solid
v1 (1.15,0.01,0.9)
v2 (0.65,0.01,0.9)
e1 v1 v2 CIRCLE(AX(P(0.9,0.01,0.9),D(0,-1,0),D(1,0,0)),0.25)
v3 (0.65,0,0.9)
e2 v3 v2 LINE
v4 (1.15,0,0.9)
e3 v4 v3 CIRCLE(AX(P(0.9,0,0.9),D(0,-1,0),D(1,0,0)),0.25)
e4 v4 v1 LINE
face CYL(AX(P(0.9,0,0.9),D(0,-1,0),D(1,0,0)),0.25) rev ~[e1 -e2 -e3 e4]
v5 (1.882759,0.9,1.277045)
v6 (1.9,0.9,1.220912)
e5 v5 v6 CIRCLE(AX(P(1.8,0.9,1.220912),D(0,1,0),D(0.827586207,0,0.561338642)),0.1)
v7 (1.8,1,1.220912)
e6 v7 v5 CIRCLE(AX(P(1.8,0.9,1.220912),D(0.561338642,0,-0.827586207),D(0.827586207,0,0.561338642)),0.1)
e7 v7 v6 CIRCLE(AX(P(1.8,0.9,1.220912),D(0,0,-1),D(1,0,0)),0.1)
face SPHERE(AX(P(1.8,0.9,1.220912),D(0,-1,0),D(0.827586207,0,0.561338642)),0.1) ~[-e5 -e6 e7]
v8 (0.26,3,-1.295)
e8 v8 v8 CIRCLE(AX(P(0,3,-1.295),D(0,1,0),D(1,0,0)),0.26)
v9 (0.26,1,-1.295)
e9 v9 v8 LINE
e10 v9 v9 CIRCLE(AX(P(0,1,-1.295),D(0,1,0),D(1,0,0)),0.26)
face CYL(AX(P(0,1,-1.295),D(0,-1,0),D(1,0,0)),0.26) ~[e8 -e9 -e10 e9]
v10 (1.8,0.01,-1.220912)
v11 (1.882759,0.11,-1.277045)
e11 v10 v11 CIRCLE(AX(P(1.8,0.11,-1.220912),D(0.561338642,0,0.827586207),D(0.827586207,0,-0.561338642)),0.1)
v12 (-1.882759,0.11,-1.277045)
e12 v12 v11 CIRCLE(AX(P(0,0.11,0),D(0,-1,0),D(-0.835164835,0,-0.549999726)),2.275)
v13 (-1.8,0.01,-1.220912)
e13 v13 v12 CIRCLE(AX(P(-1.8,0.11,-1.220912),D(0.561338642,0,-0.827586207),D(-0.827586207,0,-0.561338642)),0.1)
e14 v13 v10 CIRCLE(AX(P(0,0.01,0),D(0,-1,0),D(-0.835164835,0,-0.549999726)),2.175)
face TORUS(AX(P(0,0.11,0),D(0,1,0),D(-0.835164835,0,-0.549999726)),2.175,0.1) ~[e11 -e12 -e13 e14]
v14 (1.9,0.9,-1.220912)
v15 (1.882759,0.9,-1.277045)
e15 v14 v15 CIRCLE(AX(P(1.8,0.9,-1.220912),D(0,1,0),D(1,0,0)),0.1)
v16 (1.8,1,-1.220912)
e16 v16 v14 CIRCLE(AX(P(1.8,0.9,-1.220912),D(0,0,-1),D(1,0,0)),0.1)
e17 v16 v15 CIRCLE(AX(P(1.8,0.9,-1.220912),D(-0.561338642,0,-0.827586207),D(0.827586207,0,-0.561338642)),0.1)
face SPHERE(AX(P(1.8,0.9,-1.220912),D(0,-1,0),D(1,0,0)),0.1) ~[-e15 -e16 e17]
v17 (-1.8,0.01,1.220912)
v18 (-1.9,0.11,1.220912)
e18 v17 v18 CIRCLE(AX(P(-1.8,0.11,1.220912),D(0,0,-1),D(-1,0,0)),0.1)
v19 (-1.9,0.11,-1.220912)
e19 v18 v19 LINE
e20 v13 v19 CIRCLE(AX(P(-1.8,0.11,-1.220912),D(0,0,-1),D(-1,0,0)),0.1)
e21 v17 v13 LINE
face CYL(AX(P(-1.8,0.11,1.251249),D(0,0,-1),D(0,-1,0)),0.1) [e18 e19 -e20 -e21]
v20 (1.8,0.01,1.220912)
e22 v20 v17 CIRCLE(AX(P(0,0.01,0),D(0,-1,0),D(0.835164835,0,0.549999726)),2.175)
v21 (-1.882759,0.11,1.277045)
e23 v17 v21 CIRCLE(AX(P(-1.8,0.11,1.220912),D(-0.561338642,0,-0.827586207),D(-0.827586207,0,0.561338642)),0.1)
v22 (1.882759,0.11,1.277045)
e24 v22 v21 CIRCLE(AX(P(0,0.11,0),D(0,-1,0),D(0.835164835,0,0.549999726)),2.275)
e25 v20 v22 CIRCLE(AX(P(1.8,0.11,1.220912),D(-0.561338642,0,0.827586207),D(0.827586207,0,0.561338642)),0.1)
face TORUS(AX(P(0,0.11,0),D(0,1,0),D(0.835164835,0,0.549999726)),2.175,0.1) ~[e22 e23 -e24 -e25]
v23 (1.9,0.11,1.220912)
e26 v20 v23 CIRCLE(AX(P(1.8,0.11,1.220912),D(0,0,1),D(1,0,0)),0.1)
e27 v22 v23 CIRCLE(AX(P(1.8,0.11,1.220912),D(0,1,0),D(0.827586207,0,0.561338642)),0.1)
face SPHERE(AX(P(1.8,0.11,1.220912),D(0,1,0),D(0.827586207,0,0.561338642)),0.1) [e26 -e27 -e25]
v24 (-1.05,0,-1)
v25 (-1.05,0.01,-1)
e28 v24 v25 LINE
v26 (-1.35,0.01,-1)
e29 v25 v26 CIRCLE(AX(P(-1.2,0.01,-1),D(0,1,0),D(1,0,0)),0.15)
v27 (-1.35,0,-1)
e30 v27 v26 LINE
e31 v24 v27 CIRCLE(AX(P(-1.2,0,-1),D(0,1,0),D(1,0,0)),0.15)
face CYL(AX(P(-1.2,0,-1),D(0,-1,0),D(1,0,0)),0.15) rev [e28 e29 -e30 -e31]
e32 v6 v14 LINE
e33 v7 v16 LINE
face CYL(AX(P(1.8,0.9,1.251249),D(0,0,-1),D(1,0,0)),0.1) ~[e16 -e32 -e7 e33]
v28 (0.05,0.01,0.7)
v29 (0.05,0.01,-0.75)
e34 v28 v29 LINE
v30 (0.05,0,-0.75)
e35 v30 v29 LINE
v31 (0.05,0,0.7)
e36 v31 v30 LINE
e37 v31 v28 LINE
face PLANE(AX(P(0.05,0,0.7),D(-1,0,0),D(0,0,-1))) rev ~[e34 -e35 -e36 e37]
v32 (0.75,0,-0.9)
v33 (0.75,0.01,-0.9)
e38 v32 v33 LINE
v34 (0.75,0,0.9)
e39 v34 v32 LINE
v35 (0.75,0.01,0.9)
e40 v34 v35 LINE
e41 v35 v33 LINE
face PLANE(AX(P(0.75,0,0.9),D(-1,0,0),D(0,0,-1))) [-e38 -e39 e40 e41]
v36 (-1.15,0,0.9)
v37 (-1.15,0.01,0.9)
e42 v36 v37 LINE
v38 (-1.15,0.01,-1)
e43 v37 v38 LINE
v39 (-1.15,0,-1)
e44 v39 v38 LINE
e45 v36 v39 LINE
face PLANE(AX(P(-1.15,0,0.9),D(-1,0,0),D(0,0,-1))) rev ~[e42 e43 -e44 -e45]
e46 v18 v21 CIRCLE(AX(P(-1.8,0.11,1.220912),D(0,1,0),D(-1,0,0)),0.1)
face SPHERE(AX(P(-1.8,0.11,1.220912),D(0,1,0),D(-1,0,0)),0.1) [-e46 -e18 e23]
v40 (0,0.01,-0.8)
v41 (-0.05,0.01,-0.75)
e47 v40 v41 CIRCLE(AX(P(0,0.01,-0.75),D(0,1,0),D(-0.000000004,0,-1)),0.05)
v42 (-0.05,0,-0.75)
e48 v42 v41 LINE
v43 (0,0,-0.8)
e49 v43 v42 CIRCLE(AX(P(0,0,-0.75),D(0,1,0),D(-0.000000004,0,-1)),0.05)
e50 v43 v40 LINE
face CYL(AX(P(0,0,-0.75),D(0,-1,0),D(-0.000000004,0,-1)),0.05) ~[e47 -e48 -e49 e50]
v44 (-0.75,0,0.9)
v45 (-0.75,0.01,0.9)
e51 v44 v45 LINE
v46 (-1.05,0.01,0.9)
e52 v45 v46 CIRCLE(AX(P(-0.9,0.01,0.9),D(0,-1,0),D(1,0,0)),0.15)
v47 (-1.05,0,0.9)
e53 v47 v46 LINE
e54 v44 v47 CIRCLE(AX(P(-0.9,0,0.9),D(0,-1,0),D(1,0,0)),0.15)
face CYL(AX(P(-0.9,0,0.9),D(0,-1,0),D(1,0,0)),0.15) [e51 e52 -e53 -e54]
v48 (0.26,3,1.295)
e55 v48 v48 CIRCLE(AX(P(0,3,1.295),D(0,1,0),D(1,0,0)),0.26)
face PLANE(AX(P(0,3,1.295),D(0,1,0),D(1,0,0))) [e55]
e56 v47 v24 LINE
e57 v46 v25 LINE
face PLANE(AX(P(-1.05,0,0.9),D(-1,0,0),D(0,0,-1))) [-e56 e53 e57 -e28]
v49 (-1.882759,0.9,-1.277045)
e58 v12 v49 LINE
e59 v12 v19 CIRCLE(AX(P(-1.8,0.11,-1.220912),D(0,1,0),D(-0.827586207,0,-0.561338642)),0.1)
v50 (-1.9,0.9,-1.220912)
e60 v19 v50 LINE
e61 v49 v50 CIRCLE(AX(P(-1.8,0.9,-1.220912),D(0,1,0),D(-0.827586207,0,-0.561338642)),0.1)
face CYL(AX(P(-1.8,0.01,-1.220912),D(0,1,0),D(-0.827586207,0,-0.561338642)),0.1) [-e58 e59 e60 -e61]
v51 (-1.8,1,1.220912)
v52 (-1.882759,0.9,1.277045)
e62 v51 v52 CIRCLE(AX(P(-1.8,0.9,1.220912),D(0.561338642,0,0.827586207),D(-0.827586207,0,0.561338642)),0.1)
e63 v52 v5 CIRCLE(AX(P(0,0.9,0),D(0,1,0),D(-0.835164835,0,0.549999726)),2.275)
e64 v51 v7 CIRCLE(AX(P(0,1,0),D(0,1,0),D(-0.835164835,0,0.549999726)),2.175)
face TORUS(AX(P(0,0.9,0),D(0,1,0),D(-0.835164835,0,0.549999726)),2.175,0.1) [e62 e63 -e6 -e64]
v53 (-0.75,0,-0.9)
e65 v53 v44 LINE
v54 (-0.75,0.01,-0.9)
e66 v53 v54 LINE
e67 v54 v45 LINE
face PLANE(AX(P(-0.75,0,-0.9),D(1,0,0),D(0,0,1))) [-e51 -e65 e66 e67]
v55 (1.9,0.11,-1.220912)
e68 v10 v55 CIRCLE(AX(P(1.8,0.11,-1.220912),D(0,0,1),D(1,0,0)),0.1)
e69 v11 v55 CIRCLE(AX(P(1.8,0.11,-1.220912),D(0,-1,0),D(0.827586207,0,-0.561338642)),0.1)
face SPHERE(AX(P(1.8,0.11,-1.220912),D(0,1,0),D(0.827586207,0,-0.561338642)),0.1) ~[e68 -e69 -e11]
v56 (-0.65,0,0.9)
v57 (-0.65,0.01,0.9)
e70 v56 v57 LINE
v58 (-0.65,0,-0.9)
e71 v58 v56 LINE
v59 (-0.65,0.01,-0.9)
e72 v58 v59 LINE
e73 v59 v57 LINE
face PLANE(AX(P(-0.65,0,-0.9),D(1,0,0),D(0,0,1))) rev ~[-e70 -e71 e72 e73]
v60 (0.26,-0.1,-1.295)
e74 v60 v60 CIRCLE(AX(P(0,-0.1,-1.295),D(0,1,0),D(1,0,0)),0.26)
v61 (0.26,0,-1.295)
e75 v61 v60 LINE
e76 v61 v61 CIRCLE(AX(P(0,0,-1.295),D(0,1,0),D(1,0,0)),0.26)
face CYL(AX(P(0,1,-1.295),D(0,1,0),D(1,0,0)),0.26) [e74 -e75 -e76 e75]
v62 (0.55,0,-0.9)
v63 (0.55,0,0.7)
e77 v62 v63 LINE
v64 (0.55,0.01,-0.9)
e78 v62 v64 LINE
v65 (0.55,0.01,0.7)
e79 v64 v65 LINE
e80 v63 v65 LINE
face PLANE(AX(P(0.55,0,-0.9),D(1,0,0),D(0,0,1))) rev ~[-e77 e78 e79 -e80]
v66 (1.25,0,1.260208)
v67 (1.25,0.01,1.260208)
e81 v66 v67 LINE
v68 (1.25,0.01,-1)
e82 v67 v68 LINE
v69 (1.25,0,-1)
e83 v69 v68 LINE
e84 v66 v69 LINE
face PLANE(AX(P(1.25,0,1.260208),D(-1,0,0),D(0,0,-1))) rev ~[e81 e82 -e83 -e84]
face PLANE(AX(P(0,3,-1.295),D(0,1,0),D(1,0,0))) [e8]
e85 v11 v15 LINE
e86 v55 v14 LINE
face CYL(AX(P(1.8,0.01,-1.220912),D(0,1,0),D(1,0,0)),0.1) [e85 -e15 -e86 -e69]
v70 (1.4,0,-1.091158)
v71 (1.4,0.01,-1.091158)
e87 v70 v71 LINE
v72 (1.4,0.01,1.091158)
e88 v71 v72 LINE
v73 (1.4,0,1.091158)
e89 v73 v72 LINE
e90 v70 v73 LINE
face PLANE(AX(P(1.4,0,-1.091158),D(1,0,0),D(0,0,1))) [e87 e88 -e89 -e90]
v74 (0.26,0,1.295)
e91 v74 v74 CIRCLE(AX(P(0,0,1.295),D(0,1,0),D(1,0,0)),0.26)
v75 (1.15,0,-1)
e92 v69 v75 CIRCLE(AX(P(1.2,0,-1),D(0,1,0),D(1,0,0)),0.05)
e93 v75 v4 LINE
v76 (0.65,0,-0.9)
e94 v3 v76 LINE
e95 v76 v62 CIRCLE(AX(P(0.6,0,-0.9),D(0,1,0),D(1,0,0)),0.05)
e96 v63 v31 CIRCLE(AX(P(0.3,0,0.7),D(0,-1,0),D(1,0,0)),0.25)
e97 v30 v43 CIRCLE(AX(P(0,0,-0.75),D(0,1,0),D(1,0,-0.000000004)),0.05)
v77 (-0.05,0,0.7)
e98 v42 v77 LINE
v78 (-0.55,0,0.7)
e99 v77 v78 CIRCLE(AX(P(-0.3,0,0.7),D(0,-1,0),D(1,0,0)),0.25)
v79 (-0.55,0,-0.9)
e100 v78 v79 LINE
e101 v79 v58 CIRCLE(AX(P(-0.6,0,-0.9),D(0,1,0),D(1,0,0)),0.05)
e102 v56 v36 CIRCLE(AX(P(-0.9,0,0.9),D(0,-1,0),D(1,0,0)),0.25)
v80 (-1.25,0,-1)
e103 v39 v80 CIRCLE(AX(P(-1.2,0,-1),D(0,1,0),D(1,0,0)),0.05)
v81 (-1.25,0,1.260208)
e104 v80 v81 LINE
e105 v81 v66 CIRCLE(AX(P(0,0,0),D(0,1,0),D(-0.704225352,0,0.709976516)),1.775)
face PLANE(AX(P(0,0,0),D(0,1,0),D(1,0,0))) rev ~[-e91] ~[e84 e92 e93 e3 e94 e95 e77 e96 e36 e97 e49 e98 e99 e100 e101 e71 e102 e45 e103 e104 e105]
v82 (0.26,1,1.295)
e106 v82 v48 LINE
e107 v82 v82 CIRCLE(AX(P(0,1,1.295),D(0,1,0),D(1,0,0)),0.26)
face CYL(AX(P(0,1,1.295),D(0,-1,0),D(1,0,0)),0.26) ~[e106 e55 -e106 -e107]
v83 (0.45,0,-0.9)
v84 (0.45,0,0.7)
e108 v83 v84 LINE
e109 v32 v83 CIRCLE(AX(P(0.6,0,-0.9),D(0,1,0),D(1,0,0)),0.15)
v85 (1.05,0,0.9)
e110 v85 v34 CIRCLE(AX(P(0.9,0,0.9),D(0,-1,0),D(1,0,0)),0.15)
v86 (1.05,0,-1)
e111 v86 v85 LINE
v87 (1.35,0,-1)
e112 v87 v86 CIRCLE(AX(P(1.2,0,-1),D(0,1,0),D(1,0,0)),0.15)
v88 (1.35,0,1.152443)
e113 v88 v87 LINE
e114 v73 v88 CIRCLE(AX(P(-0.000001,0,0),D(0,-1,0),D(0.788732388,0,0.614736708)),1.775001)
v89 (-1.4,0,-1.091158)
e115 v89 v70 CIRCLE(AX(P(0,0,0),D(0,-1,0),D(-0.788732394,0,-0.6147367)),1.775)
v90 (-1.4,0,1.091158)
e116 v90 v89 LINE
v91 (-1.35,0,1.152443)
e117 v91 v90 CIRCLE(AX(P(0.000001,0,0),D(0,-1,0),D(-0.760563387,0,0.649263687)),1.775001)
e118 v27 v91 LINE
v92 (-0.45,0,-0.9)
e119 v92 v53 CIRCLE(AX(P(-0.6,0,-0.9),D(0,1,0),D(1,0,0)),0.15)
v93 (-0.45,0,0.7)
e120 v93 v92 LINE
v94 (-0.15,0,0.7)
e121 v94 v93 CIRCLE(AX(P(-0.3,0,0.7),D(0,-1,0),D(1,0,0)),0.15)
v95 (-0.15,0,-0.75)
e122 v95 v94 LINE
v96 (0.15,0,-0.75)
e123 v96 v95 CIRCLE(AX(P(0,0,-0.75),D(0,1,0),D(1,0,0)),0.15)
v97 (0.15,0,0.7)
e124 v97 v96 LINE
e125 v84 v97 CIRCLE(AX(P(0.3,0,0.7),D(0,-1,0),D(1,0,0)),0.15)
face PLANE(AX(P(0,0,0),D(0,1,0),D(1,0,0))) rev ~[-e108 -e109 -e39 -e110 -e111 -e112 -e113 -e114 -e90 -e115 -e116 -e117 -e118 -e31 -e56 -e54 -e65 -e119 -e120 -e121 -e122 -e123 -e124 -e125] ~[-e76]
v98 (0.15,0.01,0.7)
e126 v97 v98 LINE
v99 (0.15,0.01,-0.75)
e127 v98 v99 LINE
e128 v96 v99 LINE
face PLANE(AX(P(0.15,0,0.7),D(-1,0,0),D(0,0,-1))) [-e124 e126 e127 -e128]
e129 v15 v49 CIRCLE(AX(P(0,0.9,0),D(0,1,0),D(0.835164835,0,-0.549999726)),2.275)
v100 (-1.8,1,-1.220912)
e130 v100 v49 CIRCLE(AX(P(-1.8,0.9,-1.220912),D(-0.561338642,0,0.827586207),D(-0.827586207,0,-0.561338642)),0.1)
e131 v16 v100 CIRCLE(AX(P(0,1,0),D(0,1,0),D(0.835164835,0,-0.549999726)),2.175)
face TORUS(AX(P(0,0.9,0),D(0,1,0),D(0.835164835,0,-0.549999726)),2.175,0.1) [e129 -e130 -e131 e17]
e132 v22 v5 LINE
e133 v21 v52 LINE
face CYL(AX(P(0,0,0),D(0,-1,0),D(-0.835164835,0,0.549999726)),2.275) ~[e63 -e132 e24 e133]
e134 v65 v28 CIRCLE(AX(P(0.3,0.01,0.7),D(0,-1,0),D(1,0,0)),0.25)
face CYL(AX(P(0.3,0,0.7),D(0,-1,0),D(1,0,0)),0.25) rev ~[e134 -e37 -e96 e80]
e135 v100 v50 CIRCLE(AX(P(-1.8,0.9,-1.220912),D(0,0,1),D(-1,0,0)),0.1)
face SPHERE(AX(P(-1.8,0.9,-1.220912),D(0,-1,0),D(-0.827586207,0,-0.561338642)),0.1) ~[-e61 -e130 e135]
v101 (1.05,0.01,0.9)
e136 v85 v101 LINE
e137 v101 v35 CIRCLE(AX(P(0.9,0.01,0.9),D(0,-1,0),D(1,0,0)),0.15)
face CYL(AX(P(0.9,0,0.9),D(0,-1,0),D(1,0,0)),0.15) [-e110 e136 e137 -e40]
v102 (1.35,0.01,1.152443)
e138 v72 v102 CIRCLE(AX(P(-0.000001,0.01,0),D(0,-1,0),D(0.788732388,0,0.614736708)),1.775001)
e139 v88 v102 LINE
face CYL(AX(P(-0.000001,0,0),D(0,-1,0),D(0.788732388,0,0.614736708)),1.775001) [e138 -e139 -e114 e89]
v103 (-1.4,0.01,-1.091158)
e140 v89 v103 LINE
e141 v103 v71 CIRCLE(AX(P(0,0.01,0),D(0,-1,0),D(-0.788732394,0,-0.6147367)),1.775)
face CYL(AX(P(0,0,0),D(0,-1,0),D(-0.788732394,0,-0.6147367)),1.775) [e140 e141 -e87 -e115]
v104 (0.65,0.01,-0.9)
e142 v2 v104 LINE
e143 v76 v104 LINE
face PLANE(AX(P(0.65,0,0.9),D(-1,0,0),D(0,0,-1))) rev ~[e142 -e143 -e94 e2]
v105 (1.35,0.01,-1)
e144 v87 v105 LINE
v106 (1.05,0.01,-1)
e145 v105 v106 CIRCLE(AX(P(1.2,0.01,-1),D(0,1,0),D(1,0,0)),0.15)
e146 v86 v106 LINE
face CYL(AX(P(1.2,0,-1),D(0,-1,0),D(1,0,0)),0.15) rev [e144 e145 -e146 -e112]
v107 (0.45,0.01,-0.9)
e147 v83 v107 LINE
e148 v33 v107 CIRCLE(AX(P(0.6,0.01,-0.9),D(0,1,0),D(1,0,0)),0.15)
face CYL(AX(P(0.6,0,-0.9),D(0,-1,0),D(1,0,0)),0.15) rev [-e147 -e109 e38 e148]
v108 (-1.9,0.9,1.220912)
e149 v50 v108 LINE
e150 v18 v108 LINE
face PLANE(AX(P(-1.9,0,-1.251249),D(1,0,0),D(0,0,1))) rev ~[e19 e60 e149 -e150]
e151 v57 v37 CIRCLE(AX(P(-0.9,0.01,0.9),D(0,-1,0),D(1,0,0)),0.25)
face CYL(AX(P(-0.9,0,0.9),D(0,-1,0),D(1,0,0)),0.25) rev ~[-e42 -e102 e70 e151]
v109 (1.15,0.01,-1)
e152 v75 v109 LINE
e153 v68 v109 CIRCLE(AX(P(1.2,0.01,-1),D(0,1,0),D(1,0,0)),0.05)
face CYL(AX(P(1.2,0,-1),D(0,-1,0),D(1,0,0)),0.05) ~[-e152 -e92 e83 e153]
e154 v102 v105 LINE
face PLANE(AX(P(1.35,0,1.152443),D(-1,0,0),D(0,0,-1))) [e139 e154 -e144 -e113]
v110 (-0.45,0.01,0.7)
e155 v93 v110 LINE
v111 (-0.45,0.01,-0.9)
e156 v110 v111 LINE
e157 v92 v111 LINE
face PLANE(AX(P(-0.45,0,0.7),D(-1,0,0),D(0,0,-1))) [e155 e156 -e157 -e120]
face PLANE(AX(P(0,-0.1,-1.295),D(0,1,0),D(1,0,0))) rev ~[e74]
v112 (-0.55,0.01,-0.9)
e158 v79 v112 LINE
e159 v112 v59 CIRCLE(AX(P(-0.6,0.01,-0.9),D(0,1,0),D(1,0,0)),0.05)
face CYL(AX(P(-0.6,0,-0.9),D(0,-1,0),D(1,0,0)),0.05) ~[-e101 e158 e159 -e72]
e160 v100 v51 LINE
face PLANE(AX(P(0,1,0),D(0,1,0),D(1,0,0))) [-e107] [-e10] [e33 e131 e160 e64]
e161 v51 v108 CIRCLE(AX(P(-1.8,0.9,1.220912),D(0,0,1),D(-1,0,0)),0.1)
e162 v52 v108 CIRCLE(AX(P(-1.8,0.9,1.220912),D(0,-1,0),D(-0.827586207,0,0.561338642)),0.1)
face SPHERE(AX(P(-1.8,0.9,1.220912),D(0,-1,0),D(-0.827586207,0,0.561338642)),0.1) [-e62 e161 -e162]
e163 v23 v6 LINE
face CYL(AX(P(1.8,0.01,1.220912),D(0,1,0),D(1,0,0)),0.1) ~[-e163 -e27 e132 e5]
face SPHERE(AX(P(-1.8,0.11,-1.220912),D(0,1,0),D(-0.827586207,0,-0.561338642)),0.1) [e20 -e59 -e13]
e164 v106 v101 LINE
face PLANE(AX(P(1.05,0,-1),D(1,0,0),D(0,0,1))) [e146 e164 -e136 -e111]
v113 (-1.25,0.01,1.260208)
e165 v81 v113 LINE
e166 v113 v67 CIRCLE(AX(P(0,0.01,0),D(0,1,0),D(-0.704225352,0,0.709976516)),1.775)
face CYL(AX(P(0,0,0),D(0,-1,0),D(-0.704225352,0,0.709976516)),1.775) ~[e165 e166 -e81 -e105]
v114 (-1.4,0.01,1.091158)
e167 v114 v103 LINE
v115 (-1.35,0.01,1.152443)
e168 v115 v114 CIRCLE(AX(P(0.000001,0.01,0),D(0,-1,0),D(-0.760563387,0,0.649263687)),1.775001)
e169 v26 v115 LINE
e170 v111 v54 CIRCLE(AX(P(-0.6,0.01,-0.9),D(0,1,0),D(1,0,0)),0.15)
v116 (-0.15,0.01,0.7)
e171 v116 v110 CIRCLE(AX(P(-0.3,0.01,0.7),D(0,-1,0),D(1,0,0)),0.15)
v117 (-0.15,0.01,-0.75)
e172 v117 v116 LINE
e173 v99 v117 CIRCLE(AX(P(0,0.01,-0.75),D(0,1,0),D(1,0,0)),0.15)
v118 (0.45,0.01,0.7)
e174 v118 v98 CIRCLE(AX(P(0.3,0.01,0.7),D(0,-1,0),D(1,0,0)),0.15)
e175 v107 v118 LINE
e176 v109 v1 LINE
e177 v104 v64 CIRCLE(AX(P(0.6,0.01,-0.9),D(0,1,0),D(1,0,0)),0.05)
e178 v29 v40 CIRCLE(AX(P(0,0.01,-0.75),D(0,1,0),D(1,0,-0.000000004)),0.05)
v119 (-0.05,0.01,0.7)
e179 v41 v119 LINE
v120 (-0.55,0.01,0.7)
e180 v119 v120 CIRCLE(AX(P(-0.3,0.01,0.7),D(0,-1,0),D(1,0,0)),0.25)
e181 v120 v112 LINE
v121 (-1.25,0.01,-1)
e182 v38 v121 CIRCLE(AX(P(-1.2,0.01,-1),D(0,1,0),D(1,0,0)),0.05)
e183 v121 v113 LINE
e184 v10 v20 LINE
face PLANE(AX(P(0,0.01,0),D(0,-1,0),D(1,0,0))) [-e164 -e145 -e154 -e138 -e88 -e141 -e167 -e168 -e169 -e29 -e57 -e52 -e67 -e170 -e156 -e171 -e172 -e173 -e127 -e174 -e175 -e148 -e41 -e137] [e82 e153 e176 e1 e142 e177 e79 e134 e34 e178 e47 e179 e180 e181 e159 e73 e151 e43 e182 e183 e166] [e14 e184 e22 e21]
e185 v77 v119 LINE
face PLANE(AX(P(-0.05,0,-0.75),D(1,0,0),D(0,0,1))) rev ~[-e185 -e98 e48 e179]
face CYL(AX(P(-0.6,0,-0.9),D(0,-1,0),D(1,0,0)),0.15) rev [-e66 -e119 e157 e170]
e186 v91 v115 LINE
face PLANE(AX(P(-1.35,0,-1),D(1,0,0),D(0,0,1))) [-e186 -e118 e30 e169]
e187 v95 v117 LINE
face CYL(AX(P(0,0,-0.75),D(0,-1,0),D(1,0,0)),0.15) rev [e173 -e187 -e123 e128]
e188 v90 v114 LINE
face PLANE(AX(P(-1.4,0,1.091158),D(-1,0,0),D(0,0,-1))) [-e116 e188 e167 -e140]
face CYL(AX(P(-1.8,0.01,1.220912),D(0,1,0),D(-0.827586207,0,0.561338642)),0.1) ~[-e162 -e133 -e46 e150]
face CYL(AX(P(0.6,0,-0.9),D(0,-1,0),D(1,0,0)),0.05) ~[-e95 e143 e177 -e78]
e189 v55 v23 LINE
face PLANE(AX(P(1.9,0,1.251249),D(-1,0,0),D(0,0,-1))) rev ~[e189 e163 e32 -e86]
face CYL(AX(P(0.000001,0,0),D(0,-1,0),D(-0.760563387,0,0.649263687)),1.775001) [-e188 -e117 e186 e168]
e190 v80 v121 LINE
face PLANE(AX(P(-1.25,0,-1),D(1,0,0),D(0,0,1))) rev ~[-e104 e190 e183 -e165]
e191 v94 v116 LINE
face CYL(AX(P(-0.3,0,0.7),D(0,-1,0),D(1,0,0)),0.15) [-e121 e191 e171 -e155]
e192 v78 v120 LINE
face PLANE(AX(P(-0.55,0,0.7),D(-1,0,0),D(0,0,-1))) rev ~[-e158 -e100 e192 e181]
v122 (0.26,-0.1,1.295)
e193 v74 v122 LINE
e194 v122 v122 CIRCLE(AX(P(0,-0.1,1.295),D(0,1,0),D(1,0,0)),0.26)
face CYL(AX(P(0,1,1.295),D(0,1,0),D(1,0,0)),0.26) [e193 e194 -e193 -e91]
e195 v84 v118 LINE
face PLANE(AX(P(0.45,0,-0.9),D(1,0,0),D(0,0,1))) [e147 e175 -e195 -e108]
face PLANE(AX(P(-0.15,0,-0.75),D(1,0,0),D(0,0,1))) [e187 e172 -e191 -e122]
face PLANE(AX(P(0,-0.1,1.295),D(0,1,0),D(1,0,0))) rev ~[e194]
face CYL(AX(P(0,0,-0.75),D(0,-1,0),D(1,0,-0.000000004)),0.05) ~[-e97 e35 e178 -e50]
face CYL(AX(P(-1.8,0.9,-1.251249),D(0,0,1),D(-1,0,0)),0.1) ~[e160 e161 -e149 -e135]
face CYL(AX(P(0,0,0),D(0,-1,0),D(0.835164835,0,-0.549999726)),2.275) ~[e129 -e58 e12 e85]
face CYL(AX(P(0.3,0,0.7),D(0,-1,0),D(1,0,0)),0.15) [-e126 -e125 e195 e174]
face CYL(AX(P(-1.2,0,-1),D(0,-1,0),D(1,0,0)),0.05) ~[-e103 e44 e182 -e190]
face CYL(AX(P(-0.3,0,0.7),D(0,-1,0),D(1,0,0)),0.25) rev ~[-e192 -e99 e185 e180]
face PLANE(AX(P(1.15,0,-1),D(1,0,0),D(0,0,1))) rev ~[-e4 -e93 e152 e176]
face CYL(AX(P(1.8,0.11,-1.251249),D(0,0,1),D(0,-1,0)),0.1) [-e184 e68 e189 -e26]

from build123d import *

# Parameters (mm, degrees)
BOSS_EXTRUDE1_DEPTH      = 1
SKETCH2_R                = 0.26
BOSS_EXTRUDE2_DEPTH      = 10
BOSS_EXTRUDE2_DEPTH_BACK = 1.1
CUT_EXTRUDE1_DEPTH       = 0.01
FILLET1_R                = 0.1
SCHIZZO1_R               = 0.26
TAGLIO_ESTRUSIONE1_DEPTH = 8


with BuildPart() as part:
    # Sketch1 → Boss-Extrude1 (new body)
    with BuildSketch(Plane(origin=(0, 0, 0), x_dir=(1, 0, 0), z_dir=(0, 1, 0))):
        with BuildLine():
            Line((-1.9, 1.251249376), (-1.9, -1.251249376))
            ThreePointArc((-1.9, -1.251249376), (0, -2.275), (1.9, -1.251249376))
            Line((1.9, -1.251249376), (1.9, 1.251249376))
            ThreePointArc((1.9, 1.251249376), (0, 2.275), (-1.9, 1.251249376))
        make_face()
    extrude(amount=BOSS_EXTRUDE1_DEPTH)

    # Sketch2 → Boss-Extrude2 (add, two sides)
    with BuildSketch(Plane(origin=(0, 1, 0), x_dir=(1, 0, 0), z_dir=(0, 1, 0))) as boss_extrude2_sk:
        with Locations((0, 1.295)):
            Circle(SKETCH2_R)
        with Locations((0, -1.295)):
            Circle(SKETCH2_R)
    extrude(amount=BOSS_EXTRUDE2_DEPTH)
    extrude(boss_extrude2_sk.sketch, amount=-BOSS_EXTRUDE2_DEPTH_BACK)

    # Sketch4 → Cut-Extrude1 (cut)
    with BuildSketch(Plane.XZ):
        with BuildLine():
            Line((1.9, -1.251249376), (1.9, 1.251249376))
            ThreePointArc((1.9, 1.251249376), (0, 2.275), (-1.9, 1.251249376))
            Line((-1.9, 1.251249376), (-1.9, -1.251249376))
            ThreePointArc((-1.9, -1.251249376), (0, -2.275), (1.9, -1.251249376))
        make_face()
        with BuildLine():
            Line((-1.4, 1.091157642), (-1.4, -1.091157642))
            ThreePointArc((-1.4, -1.091157642), (0, -1.775), (1.4, -1.091157642))
            Line((1.4, -1.091157642), (1.4, 1.091157642))
            ThreePointArc((1.4, 1.091157642), (1.375341403, 1.122078885), (1.35, 1.152443057))
            Line((1.35, 1.152443057), (1.35, -1))
            ThreePointArc((1.35, -1), (1.2, -1.15), (1.05, -1))
            Line((1.05, -1), (1.05, 0.9))
            ThreePointArc((1.05, 0.9), (0.9, 1.05), (0.75, 0.9))
            Line((0.75, 0.9), (0.75, -0.9))
            ThreePointArc((0.75, -0.9), (0.6, -1.05), (0.45, -0.9))
            Line((0.45, -0.9), (0.45, 0.7))
            ThreePointArc((0.45, 0.7), (0.3, 0.85), (0.15, 0.7))
            Line((0.15, 0.7), (0.15, -0.75))
            ThreePointArc((0.15, -0.75), (0, -0.9), (-0.15, -0.75))
            Line((-0.15, -0.75), (-0.15, 0.7))
            ThreePointArc((-0.15, 0.7), (-0.3, 0.85), (-0.45, 0.7))
            Line((-0.45, 0.7), (-0.45, -0.9))
            ThreePointArc((-0.45, -0.9), (-0.6, -1.05), (-0.75, -0.9))
            Line((-0.75, -0.9), (-0.75, 0.9))
            ThreePointArc((-0.75, 0.9), (-0.9, 1.05), (-1.05, 0.9))
            Line((-1.05, 0.9), (-1.05, -1))
            ThreePointArc((-1.05, -1), (-1.2, -1.15), (-1.35, -1))
            Line((-1.35, -1), (-1.35, 1.152443057))
            ThreePointArc((-1.35, 1.152443057), (-1.375341403, 1.122078885), (-1.4, 1.091157642))
        make_face(mode=Mode.SUBTRACT)
        with BuildLine():
            Line((1.25, 1.152443057), (1.25, -1))
            ThreePointArc((1.25, -1), (1.2, -1.05), (1.15, -1))
            Line((1.15, -1), (1.15, 0.9))
            ThreePointArc((1.15, 0.9), (0.9, 1.15), (0.65, 0.9))
            Line((0.65, 0.9), (0.65, -0.9))
            ThreePointArc((0.65, -0.9), (0.6, -0.95), (0.55, -0.9))
            Line((0.55, -0.9), (0.55, 0.7))
            ThreePointArc((0.55, 0.7), (0.3, 0.95), (0.05, 0.7))
            Line((0.05, 0.7), (0.05, -0.75))
            ThreePointArc((0.05, -0.75), (0.035355339, -0.785355339), (0, -0.8))
            ThreePointArc((0, -0.8), (-0.035355339, -0.785355339), (-0.05, -0.75))
            Line((-0.05, -0.75), (-0.05, 0.7))
            ThreePointArc((-0.05, 0.7), (-0.3, 0.95), (-0.55, 0.7))
            Line((-0.55, 0.7), (-0.55, -0.9))
            ThreePointArc((-0.55, -0.9), (-0.6, -0.95), (-0.65, -0.9))
            Line((-0.65, -0.9), (-0.65, 0.9))
            ThreePointArc((-0.65, 0.9), (-0.9, 1.15), (-1.15, 0.9))
            Line((-1.15, 0.9), (-1.15, -1))
            ThreePointArc((-1.15, -1), (-1.2, -1.05), (-1.25, -1))
            Line((-1.25, -1), (-1.25, 1.152443057))
            Line((-1.25, 1.152443057), (-1.25, 1.260208316))
            ThreePointArc((-1.25, 1.260208316), (0, 1.775), (1.25, 1.260208316))
            Line((1.25, 1.260208316), (1.25, 1.152443057))
        make_face(mode=Mode.SUBTRACT)
    extrude(amount=-CUT_EXTRUDE1_DEPTH, mode=Mode.SUBTRACT)

    # Fillet1
    fillet1_edges = [part.edges().sort_by_distance(p)[0] for p in [
        (0, 1, 2.275),
        (1.9, 1, 0),
        (0, 1, -2.275),
        (0, 0.01, -2.275),
        (-1.9, 0.01, 0),
        (0, 0.01, 2.275),
        (1.9, 0.01, 0),
        (-1.9, 1, 0),
        (1.9, 0.505, -1.251249376),
        (1.9, 0.505, 1.251249376),
        (-1.9, 0.505, 1.251249376),
        (-1.9, 0.505, -1.251249376),
    ]]
    fillet(fillet1_edges, radius=FILLET1_R)

    # Schizzo1 → Taglio-Estrusione1 (cut)
    with BuildSketch(Plane(origin=(0, 11, 0), x_dir=(1, 0, 0), z_dir=(0, 1, 0))):
        with Locations((0, 1.295)):
            Circle(SCHIZZO1_R)
        with Locations((0, -1.295)):
            Circle(SCHIZZO1_R)
    extrude(amount=-TAGLIO_ESTRUSIONE1_DEPTH, mode=Mode.SUBTRACT)


solid = part.part
